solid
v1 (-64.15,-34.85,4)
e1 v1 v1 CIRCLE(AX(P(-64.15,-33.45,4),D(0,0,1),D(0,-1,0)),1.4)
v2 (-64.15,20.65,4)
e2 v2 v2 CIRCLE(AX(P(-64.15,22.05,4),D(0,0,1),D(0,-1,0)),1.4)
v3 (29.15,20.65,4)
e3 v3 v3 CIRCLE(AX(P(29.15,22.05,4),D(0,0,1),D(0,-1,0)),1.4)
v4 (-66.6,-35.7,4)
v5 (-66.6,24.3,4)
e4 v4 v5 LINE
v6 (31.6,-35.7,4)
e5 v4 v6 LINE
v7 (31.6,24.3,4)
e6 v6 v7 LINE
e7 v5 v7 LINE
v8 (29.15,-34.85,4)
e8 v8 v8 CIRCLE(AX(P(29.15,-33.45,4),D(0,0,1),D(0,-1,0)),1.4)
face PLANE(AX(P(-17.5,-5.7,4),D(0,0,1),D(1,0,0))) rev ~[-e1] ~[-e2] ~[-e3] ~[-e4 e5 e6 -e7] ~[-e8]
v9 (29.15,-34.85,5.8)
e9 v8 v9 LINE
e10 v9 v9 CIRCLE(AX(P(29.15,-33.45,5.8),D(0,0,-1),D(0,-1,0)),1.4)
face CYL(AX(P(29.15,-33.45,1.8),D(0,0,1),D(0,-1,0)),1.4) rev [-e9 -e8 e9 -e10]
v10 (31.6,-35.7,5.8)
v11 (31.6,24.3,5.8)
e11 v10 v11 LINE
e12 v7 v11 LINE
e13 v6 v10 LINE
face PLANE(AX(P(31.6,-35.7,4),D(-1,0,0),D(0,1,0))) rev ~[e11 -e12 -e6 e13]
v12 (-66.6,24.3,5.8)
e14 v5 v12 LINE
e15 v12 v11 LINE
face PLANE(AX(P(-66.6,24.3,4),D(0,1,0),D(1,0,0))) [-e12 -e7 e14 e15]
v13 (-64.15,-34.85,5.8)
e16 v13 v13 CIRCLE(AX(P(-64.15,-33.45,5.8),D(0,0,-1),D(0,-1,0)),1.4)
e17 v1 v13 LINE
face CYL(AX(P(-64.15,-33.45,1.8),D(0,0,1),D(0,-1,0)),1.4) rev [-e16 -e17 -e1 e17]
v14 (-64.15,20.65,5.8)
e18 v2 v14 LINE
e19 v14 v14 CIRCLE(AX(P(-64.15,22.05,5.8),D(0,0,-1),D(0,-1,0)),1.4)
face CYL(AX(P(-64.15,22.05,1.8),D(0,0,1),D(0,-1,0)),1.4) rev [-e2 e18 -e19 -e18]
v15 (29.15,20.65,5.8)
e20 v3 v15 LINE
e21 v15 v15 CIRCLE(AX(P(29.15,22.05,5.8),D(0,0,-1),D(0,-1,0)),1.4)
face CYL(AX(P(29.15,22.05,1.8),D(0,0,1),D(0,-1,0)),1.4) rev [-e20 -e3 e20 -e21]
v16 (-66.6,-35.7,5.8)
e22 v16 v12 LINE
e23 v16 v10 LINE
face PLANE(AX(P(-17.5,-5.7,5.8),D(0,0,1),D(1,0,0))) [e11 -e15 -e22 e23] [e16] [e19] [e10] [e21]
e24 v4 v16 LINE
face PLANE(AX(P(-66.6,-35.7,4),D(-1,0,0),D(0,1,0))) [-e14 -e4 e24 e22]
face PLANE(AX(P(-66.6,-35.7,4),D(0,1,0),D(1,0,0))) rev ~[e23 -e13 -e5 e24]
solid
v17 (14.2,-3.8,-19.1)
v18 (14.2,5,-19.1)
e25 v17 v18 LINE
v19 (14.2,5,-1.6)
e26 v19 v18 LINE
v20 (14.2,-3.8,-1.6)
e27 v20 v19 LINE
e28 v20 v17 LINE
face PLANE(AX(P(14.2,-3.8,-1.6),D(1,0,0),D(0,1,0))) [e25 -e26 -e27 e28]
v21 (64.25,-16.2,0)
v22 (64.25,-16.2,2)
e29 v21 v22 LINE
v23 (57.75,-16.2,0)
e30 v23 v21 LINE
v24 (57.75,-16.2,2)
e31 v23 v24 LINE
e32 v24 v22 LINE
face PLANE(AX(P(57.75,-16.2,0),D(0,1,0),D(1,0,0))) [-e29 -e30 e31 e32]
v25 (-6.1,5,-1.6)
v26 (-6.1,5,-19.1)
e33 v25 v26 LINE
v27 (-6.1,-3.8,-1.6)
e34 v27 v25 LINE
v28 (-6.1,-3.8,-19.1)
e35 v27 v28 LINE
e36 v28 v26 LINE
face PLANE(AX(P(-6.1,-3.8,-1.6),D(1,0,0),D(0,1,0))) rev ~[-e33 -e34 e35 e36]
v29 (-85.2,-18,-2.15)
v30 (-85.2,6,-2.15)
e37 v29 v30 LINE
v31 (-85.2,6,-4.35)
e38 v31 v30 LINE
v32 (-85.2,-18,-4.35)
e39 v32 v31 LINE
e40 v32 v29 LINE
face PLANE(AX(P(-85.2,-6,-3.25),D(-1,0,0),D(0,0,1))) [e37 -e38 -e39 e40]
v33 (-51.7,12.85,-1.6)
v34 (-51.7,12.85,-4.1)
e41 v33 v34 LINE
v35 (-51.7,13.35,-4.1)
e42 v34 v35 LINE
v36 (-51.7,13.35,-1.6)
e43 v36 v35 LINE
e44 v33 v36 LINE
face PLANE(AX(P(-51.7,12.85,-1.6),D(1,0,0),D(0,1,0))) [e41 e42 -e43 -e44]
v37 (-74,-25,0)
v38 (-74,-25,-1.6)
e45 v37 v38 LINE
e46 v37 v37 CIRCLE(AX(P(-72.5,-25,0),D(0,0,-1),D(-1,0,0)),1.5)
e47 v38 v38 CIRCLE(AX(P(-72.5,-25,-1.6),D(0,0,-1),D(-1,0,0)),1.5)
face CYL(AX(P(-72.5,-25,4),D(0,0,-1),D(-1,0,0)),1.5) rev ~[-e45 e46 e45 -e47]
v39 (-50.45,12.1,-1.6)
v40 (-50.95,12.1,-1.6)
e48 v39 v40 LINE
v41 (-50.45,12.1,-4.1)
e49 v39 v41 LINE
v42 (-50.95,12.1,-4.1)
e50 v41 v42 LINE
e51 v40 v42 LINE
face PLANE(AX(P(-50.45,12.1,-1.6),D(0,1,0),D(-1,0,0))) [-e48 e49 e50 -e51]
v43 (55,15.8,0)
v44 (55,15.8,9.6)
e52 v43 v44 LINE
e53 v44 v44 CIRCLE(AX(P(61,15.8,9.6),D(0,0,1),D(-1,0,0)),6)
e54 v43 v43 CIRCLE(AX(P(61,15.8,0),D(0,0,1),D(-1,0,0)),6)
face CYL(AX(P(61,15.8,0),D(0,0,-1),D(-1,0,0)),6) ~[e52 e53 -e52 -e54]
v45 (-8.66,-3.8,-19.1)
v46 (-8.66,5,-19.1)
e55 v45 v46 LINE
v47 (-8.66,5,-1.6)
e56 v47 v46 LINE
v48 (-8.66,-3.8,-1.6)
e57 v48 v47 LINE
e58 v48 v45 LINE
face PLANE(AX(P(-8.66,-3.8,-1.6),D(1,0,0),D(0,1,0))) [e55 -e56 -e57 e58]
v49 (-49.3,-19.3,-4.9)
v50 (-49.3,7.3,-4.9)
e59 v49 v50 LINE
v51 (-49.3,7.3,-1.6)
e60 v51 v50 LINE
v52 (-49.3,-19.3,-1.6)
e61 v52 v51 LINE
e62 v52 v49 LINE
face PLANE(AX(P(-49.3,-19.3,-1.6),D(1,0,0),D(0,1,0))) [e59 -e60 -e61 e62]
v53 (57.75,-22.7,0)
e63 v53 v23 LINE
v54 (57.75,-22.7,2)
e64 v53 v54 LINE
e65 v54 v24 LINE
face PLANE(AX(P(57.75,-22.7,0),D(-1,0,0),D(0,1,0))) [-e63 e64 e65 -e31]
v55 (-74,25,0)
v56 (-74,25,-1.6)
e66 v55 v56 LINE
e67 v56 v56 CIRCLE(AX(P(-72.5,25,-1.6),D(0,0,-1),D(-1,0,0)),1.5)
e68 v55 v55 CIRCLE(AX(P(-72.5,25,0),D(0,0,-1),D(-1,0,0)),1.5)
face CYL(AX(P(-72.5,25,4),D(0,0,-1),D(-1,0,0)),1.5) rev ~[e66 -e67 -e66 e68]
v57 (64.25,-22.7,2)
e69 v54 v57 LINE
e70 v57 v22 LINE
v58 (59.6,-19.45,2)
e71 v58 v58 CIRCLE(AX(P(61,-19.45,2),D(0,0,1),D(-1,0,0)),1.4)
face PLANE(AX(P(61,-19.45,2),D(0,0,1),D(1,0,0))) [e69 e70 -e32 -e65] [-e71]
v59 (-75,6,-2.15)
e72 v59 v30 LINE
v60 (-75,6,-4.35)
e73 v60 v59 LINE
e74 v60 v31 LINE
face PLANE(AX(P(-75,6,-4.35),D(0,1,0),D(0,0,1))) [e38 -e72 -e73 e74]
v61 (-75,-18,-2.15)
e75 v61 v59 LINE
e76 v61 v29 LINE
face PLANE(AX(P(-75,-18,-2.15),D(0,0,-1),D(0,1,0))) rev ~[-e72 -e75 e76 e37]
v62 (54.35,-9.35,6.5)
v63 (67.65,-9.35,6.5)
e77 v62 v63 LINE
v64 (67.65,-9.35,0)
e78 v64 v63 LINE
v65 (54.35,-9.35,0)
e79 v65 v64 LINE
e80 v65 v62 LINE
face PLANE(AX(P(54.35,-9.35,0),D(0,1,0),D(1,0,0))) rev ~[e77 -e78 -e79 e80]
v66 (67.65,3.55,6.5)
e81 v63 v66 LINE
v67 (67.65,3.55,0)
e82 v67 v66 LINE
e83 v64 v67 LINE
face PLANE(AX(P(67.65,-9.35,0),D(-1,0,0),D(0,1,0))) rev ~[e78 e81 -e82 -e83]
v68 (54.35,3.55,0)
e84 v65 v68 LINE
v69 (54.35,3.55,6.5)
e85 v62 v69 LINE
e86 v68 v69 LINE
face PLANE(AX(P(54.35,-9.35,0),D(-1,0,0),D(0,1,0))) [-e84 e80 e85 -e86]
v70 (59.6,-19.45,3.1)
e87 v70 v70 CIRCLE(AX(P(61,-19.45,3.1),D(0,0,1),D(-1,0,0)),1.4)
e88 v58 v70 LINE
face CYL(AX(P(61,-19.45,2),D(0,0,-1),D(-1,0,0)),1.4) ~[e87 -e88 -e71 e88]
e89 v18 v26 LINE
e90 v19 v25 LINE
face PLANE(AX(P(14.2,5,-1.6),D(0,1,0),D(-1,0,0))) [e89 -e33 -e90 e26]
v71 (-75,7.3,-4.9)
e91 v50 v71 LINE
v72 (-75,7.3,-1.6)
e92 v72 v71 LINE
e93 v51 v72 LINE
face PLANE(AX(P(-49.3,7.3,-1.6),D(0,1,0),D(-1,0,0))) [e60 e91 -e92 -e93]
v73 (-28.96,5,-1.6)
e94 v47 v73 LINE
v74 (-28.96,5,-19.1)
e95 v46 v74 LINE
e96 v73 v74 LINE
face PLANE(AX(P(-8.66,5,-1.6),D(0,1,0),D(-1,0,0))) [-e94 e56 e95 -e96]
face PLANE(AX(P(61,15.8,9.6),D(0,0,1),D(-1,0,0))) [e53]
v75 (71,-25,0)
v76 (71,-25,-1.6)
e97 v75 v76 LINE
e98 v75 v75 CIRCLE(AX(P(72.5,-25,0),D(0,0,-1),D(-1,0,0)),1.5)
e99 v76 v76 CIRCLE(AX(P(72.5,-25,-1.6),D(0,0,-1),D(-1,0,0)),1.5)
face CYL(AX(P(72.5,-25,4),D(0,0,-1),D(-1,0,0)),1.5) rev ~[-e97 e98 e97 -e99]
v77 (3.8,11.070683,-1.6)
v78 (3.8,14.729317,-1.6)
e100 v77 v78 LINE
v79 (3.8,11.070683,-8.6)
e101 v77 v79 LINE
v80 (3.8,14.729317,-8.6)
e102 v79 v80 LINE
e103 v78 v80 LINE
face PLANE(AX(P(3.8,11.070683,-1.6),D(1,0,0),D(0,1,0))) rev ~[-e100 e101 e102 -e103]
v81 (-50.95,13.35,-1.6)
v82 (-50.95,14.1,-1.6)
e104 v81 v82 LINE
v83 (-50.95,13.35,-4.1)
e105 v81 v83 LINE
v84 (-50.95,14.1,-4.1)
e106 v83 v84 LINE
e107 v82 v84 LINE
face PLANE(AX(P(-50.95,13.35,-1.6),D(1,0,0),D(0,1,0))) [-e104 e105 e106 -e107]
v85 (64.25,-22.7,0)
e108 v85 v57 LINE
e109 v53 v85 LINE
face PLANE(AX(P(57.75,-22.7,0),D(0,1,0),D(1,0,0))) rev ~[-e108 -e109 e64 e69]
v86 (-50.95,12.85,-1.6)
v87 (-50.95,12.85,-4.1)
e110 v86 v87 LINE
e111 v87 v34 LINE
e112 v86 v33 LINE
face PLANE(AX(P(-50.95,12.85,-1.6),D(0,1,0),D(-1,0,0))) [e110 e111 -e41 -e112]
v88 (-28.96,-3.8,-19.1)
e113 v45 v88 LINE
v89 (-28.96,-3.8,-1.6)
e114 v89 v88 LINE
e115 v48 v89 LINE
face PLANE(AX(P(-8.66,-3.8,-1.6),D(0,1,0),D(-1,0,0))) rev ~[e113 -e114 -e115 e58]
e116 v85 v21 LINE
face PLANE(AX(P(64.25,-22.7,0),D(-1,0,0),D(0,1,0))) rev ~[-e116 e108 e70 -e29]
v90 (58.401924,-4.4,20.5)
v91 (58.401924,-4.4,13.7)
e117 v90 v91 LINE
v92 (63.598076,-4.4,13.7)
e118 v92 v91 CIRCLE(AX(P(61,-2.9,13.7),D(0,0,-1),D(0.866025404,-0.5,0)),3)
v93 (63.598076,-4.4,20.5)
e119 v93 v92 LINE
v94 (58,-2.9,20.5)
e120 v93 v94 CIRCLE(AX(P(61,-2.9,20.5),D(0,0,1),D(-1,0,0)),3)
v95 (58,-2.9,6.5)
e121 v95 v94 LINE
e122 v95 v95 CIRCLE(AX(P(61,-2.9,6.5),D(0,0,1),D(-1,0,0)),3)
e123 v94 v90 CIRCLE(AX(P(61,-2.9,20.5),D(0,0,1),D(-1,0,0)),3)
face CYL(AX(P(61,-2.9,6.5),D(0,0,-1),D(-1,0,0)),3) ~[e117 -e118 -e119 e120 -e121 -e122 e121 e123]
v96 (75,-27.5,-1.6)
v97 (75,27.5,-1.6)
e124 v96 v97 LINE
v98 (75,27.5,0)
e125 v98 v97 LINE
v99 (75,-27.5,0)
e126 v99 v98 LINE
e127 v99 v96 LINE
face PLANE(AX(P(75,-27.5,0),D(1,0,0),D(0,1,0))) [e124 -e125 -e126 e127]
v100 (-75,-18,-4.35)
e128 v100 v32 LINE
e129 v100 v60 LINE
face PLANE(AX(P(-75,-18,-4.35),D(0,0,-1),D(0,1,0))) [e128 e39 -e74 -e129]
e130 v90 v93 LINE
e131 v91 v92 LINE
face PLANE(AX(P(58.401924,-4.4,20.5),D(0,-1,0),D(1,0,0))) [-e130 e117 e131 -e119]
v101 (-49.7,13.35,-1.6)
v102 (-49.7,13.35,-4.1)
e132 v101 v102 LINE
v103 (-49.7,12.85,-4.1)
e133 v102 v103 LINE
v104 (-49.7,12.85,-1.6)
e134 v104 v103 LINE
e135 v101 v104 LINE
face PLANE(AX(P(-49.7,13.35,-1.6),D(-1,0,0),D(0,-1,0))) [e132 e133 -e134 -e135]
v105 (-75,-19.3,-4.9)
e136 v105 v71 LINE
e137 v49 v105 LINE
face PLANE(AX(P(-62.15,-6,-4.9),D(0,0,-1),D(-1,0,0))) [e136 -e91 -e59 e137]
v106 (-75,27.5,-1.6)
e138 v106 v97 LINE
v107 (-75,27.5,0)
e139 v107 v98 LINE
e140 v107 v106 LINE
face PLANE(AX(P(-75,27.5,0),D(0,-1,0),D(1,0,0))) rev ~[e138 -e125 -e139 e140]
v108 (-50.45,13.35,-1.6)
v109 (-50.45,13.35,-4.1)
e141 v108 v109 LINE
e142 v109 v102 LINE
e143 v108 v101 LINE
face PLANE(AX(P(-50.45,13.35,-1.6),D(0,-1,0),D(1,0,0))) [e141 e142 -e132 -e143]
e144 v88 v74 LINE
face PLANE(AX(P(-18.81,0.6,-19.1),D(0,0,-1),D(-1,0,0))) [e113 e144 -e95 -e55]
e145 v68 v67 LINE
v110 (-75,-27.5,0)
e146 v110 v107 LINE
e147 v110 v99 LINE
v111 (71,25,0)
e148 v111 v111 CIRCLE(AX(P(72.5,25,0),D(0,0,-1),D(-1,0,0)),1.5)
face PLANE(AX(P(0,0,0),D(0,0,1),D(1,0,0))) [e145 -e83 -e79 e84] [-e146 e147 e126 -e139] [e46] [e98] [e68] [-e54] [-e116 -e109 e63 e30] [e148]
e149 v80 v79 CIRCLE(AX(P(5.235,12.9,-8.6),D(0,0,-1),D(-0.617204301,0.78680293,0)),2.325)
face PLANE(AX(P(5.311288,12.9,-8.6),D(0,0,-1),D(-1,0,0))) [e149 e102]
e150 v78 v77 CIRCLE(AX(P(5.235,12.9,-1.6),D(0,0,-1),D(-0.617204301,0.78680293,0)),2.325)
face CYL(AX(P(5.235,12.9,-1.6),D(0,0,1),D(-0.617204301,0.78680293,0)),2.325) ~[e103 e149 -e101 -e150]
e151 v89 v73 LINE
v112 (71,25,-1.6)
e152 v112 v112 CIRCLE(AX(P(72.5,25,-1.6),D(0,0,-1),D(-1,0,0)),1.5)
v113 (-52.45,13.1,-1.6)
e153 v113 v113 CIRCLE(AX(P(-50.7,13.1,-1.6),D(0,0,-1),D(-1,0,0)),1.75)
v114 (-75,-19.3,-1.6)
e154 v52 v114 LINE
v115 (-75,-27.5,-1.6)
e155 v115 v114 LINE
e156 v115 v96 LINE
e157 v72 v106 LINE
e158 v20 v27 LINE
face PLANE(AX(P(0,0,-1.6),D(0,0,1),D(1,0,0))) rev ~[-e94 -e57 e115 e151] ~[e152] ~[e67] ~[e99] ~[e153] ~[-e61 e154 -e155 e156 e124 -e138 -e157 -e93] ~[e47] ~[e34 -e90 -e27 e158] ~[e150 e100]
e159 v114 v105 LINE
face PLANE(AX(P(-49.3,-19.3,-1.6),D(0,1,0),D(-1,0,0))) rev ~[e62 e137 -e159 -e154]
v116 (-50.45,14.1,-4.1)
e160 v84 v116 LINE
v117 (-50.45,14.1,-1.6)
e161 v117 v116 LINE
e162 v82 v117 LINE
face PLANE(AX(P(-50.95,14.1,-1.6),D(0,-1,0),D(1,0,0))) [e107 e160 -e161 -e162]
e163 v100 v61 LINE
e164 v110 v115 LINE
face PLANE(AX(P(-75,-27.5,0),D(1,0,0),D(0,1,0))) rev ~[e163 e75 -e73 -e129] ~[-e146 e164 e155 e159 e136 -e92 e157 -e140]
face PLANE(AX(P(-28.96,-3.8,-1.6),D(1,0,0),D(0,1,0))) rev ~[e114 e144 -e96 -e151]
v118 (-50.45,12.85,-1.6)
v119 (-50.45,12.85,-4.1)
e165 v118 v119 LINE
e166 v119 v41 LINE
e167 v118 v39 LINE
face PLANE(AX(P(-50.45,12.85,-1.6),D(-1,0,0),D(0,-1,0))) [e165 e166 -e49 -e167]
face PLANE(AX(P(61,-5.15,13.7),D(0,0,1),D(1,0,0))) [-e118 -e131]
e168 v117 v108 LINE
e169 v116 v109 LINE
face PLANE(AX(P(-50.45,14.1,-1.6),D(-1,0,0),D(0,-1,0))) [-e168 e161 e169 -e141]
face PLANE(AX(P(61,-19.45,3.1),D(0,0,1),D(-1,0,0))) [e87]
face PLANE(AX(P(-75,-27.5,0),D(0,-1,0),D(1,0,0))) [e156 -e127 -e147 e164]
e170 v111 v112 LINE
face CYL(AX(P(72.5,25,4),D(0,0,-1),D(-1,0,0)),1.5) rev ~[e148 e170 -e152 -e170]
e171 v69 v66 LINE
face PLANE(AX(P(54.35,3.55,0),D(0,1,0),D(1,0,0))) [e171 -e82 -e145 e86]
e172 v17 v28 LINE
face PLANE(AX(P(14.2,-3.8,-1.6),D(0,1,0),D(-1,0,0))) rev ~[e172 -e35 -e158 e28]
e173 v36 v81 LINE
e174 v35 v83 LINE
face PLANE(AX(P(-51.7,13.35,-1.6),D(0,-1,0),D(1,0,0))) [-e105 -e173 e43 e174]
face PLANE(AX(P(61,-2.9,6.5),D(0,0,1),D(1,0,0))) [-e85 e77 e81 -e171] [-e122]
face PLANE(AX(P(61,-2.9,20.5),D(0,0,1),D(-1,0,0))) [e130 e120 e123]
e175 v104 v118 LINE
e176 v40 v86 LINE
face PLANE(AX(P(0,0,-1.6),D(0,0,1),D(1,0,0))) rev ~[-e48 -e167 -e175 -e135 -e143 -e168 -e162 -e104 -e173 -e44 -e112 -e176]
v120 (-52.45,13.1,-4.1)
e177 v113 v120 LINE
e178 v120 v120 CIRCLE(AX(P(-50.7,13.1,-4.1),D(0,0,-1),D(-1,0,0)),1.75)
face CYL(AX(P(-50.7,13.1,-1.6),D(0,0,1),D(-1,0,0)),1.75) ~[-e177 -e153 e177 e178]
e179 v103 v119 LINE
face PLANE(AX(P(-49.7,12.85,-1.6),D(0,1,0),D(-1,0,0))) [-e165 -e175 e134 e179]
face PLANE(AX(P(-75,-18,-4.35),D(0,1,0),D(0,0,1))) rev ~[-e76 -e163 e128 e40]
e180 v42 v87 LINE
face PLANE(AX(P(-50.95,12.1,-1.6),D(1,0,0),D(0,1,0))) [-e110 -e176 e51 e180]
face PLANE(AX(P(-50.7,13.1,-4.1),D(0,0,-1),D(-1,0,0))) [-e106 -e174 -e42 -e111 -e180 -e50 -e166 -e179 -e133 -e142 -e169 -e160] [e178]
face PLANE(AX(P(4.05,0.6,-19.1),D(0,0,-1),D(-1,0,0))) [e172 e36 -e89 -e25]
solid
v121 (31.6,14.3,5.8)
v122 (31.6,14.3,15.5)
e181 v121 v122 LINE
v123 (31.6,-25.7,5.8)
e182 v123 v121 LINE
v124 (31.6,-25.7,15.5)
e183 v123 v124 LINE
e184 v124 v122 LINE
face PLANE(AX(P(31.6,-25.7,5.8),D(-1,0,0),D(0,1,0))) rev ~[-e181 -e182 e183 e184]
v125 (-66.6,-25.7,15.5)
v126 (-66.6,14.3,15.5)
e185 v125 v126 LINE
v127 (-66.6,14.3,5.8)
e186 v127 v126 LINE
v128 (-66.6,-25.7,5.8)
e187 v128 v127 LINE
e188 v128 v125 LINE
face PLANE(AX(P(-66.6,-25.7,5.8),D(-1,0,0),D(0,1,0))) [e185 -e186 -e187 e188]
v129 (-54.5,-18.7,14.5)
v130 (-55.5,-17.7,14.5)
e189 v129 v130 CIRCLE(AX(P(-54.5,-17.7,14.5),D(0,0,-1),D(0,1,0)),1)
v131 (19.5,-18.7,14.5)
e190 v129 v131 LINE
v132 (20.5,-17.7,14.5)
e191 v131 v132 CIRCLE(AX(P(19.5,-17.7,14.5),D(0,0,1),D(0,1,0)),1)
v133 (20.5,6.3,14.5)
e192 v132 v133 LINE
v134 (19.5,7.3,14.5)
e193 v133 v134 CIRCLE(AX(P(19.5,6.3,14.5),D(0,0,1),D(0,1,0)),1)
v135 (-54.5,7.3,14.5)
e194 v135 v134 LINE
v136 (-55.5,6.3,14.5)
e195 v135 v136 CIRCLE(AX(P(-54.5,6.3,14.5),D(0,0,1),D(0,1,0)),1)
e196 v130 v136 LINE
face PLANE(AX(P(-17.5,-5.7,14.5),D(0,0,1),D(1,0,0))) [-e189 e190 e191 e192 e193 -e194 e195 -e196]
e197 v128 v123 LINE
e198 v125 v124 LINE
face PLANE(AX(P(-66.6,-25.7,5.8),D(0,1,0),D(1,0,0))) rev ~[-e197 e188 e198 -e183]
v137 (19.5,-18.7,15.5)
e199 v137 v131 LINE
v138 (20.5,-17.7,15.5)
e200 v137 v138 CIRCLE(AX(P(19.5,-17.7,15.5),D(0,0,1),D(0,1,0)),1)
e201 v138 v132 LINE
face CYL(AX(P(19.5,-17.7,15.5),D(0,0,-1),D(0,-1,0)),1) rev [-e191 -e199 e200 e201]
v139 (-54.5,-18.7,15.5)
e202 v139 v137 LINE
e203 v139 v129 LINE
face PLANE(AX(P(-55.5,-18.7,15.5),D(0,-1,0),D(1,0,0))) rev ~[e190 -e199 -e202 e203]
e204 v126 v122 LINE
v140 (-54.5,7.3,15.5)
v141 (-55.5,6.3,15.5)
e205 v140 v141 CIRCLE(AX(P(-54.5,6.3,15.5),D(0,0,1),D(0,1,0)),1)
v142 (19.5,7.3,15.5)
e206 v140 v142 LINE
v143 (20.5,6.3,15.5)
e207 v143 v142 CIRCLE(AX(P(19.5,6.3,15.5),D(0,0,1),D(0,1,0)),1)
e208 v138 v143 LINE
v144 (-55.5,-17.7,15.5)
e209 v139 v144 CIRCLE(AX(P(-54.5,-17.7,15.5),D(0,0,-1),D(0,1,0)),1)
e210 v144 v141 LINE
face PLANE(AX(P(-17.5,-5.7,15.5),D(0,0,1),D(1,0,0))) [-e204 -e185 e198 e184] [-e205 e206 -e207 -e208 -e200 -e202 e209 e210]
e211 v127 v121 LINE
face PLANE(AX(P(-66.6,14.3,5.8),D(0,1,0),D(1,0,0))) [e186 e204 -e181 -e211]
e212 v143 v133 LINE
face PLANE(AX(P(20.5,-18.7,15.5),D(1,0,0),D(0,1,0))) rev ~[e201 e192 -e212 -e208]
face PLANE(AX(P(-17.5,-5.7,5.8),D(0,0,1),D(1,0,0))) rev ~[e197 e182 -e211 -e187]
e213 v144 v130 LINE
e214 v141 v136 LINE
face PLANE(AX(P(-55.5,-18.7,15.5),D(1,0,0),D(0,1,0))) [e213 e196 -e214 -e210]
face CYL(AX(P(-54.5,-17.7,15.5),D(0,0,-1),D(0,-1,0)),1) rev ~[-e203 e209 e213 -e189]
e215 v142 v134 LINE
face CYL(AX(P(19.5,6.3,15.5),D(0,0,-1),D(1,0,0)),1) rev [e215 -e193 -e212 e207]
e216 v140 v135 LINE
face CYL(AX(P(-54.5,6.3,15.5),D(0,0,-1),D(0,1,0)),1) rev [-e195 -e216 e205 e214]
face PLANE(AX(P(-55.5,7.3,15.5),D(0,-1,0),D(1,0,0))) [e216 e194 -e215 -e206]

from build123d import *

# Parameters (mm, degrees)
SKETCH1_W                           = 150
SKETCH1_H                           = 55
PCB_DEPTH                           = 1.6
F_3_0_3_DIAMETER_HOLE1_D            = 3
F_3_0_3_DIAMETER_HOLE1_DEPTH        = 4
F_3_0_3_DIAMETER_HOLE1_TIP          = 0.901290929
SKETCH4_W                           = 20.3
SKETCH4_H                           = 8.8
IDC_CONN_DEPTH                      = 17.5
LPATTERN1_COUNT                     = 2
LPATTERN1_PITCH                     = 22.86
SKETCH5_W                           = 25.7
SKETCH5_H                           = 26.6
SD_SOCKET_DEPTH                     = 3.3
SKETCH6_W                           = 2.2
SKETCH6_H                           = 24
SD_CARD_DEPTH                       = 10.2
SKETCH7_R                           = 1.75
CONTRAST_POT_DEPTH                  = 2.5
EXTRUDE_2N3901_DEPTH                = 7
SKETCH9_W                           = 98.2
SKETCH9_H                           = 60
LCD_PCB_DEPTH                       = 1.8
SKETCH10_W                          = 98.2
SKETCH10_H                          = 40
LCD_HOUSING_DEPTH                   = 9.7
SKETCH11_W                          = 76
SKETCH11_H                          = 26
CUT_EXTRUDE1_DEPTH                  = 1
FILLET1_R                           = 1
F_2_8_2_8_DIAMETER_HOLE1_AT_2_COUNT = 2
F_2_8_2_8_DIAMETER_HOLE1_AT_2_PITCH = 93.3
F_2_8_2_8_DIAMETER_HOLE1_AT_3_COUNT = 2
F_2_8_2_8_DIAMETER_HOLE1_AT_3_PITCH = 108.55938467
F_2_8_2_8_DIAMETER_HOLE1_AT_4_COUNT = 2
F_2_8_2_8_DIAMETER_HOLE1_AT_4_PITCH = 55.5
SKETCH14_R                          = 6
BUZZER_DEPTH                        = 9.6
SKETCH15_W                          = 13.3
SKETCH15_H                          = 12.9
ENC_BODY_DEPTH                      = 6.5
SKETCH16_R                          = 3
ENC_SHAFT_DEPTH                     = 14
SKETCH17_W                          = 5.196152422
SKETCH17_H                          = 1.5
ENC_SHAFT_FLAT_DEPTH                = 6.8
SKETCH18_W                          = 6.5
SKETCH18_H                          = 6.5
E_STOP_SW_BODY_DEPTH                = 2
SKETCH19_R                          = 1.4
E_STOP_SW_BUTTON_DEPTH              = 1.1


with BuildPart() as part:
    # Sketch1 → PCB (new body)
    with BuildSketch(Plane.XY):
        Rectangle(SKETCH1_W, SKETCH1_H)
    extrude(amount=-PCB_DEPTH)

    # Ø3.0 (3) Diameter Hole1
    with Locations(Plane.XY):
        with Locations((-72.5, 25), (72.5, 25), (72.5, -25), (-72.5, -25)):
            Hole(F_3_0_3_DIAMETER_HOLE1_D / 2, depth=F_3_0_3_DIAMETER_HOLE1_DEPTH)
            with Locations((0, 0, -(F_3_0_3_DIAMETER_HOLE1_DEPTH + F_3_0_3_DIAMETER_HOLE1_TIP / 2))):  # 118° drill point
                Cone(0, F_3_0_3_DIAMETER_HOLE1_D / 2, F_3_0_3_DIAMETER_HOLE1_TIP, mode=Mode.SUBTRACT)

    # Sketch4 → IDC conn (add)
    with BuildSketch(Plane(origin=(0, 0, -1.6), x_dir=(-1, 0, 0), z_dir=(0, 0, -1))):
        with Locations((-4.05, 0.6)):
            Rectangle(SKETCH4_W, SKETCH4_H)
    idc_conn = extrude(amount=IDC_CONN_DEPTH)

    # LPattern1: IDC conn ×2
    with Locations(*[(-i * LPATTERN1_PITCH, 0, 0) for i in range(1, LPATTERN1_COUNT)]):
        add(idc_conn)



with BuildPart() as body_2:
    # Sketch5 → SD socket (new body)
    with BuildSketch(Plane(origin=(0, 0, -1.6), x_dir=(-1, 0, 0), z_dir=(0, 0, -1))):
        with Locations((62.15, -6)):
            Rectangle(SKETCH5_W, SKETCH5_H)
    extrude(amount=SD_SOCKET_DEPTH)


with BuildPart() as part_1:
    add(part.part)

    add(body_2.part)  # SD card merges body 2
    # Sketch6 → SD card (add)
    with BuildSketch(Plane.ZY.offset(75)):
        with Locations((-3.25, -6)):
            Rectangle(SKETCH6_W, SKETCH6_H)
    extrude(amount=SD_CARD_DEPTH)

    # Sketch7 → Contrast pot (add)
    with BuildSketch(Plane(origin=(0, 0, -1.6), x_dir=(-1, 0, 0), z_dir=(0, 0, -1))):
        with Locations((50.7, 13.1)):
            Circle(SKETCH7_R)
        Polygon((50.95, 12.85), (51.7, 12.85), (51.7, 13.35), (50.95, 13.35), (50.95, 14.1), (50.45, 14.1), (50.45, 13.35), (49.7, 13.35), (49.7, 12.85), (50.45, 12.85), (50.45, 12.1), (50.95, 12.1), align=None, mode=Mode.SUBTRACT)
    extrude(amount=CONTRAST_POT_DEPTH)

    # Sketch8 → 2N3901 (add)
    with BuildSketch(Plane(origin=(0, 0, -1.6), x_dir=(-1, 0, 0), z_dir=(0, 0, -1))):
        with BuildLine():
            Line((-3.8, 11.070683188), (-3.8, 14.729316812))
            ThreePointArc((-3.8, 14.729316812), (-7.56, 12.9), (-3.8, 11.070683188))
        make_face()
    extrude(amount=EXTRUDE_2N3901_DEPTH)

    # Sketch14 → buzzer (add)
    with BuildSketch(Plane.XY):
        with Locations(Location((61, 15.8, 0), (0, 0, 180))):
            Circle(SKETCH14_R)
    extrude(amount=BUZZER_DEPTH)

    # Sketch15 → enc body (add)
    with BuildSketch(Plane.XY):
        with Locations((61, -2.9)):
            Rectangle(SKETCH15_W, SKETCH15_H)
    extrude(amount=ENC_BODY_DEPTH)

    # Sketch16 → enc shaft (add)
    with BuildSketch(Plane.XY.offset(6.5)):
        with Locations(Location((61, -2.9, 0), (0, 0, 180))):
            Circle(SKETCH16_R)
    extrude(amount=ENC_SHAFT_DEPTH)

    # Sketch17 → enc shaft flat (cut)
    with BuildSketch(Plane.XY.offset(20.5)):
        with Locations((61, -5.15)):
            Rectangle(SKETCH17_W, SKETCH17_H)
    extrude(amount=-ENC_SHAFT_FLAT_DEPTH, mode=Mode.SUBTRACT)

    # Sketch18 → e-stop sw body (add)
    with BuildSketch(Plane.XY):
        with Locations((61, -19.45)):
            Rectangle(SKETCH18_W, SKETCH18_H)
    extrude(amount=E_STOP_SW_BODY_DEPTH)

    # Sketch19 → e-stop sw button (add)
    with BuildSketch(Plane.XY.offset(2)):
        with Locations(Location((61, -19.45, 0), (0, 0, 180))):
            Circle(SKETCH19_R)
    extrude(amount=E_STOP_SW_BUTTON_DEPTH)


with BuildPart() as body_2_2:
    # Sketch9 → LCD PCB (new body)
    with BuildSketch(Plane.XY.offset(4)):
        with Locations((-17.5, -5.7)):
            Rectangle(SKETCH9_W, SKETCH9_H)
    extrude(amount=LCD_PCB_DEPTH)

    # Sketch12 → Ø2.8 (2.8) Diameter Hole1 (revolve, cut)
    with BuildSketch(Plane(origin=(-64.15, 22.05, 5.8), x_dir=(0, -1, 0), z_dir=(1, 0, 0))):
        Polygon((0, 0), (0, 4.841204867), (1.4, 4), (1.4, 0), align=None)
    f_2_8_2_8_diameter_hole1 = revolve(axis=Axis((-64.15, 22.05, 12.15), (0, 0, -1)), mode=Mode.SUBTRACT)

    # Ø2.8 (2.8) Diameter Hole1 at 2: Ø2.8 (2.8) Diameter Hole1 ×2
    with Locations(*[(i * F_2_8_2_8_DIAMETER_HOLE1_AT_2_PITCH, 0, 0) for i in range(1, F_2_8_2_8_DIAMETER_HOLE1_AT_2_COUNT)]):
        add(f_2_8_2_8_diameter_hole1, mode=Mode.SUBTRACT)

    # Ø2.8 (2.8) Diameter Hole1 at 3: Ø2.8 (2.8) Diameter Hole1 ×2
    with Locations(*[Vector(0.8594374432328761, -0.511240922823415, 0) * (i * F_2_8_2_8_DIAMETER_HOLE1_AT_3_PITCH) for i in range(1, F_2_8_2_8_DIAMETER_HOLE1_AT_3_COUNT)]):
        add(f_2_8_2_8_diameter_hole1, mode=Mode.SUBTRACT)

    # Ø2.8 (2.8) Diameter Hole1 at 4: Ø2.8 (2.8) Diameter Hole1 ×2
    with Locations(*[(0, -i * F_2_8_2_8_DIAMETER_HOLE1_AT_4_PITCH, 0) for i in range(1, F_2_8_2_8_DIAMETER_HOLE1_AT_4_COUNT)]):
        add(f_2_8_2_8_diameter_hole1, mode=Mode.SUBTRACT)


with BuildPart() as body_3:
    # Sketch10 → LCD housing (new body)
    with BuildSketch(Plane.XY.offset(5.8)):
        with Locations((-17.5, -5.7)):
            Rectangle(SKETCH10_W, SKETCH10_H)
    extrude(amount=LCD_HOUSING_DEPTH)

    # Sketch11 → Cut-Extrude1 (cut)
    with BuildSketch(Plane.XY.offset(15.5)):
        with Locations((-17.5, -5.7)):
            Rectangle(SKETCH11_W, SKETCH11_H)
    extrude(amount=-CUT_EXTRUDE1_DEPTH, mode=Mode.SUBTRACT)

    # Fillet1
    fillet1_edges = [body_3.edges().sort_by_distance(p)[0] for p in [
        (-55.5, -18.7, 15),
        (-55.5, 7.3, 15),
        (20.5, 7.3, 15),
        (20.5, -18.7, 15),
    ]]
    fillet(fillet1_edges, radius=FILLET1_R)


solid = Compound([part_1.part, body_2_2.part, body_3.part])
